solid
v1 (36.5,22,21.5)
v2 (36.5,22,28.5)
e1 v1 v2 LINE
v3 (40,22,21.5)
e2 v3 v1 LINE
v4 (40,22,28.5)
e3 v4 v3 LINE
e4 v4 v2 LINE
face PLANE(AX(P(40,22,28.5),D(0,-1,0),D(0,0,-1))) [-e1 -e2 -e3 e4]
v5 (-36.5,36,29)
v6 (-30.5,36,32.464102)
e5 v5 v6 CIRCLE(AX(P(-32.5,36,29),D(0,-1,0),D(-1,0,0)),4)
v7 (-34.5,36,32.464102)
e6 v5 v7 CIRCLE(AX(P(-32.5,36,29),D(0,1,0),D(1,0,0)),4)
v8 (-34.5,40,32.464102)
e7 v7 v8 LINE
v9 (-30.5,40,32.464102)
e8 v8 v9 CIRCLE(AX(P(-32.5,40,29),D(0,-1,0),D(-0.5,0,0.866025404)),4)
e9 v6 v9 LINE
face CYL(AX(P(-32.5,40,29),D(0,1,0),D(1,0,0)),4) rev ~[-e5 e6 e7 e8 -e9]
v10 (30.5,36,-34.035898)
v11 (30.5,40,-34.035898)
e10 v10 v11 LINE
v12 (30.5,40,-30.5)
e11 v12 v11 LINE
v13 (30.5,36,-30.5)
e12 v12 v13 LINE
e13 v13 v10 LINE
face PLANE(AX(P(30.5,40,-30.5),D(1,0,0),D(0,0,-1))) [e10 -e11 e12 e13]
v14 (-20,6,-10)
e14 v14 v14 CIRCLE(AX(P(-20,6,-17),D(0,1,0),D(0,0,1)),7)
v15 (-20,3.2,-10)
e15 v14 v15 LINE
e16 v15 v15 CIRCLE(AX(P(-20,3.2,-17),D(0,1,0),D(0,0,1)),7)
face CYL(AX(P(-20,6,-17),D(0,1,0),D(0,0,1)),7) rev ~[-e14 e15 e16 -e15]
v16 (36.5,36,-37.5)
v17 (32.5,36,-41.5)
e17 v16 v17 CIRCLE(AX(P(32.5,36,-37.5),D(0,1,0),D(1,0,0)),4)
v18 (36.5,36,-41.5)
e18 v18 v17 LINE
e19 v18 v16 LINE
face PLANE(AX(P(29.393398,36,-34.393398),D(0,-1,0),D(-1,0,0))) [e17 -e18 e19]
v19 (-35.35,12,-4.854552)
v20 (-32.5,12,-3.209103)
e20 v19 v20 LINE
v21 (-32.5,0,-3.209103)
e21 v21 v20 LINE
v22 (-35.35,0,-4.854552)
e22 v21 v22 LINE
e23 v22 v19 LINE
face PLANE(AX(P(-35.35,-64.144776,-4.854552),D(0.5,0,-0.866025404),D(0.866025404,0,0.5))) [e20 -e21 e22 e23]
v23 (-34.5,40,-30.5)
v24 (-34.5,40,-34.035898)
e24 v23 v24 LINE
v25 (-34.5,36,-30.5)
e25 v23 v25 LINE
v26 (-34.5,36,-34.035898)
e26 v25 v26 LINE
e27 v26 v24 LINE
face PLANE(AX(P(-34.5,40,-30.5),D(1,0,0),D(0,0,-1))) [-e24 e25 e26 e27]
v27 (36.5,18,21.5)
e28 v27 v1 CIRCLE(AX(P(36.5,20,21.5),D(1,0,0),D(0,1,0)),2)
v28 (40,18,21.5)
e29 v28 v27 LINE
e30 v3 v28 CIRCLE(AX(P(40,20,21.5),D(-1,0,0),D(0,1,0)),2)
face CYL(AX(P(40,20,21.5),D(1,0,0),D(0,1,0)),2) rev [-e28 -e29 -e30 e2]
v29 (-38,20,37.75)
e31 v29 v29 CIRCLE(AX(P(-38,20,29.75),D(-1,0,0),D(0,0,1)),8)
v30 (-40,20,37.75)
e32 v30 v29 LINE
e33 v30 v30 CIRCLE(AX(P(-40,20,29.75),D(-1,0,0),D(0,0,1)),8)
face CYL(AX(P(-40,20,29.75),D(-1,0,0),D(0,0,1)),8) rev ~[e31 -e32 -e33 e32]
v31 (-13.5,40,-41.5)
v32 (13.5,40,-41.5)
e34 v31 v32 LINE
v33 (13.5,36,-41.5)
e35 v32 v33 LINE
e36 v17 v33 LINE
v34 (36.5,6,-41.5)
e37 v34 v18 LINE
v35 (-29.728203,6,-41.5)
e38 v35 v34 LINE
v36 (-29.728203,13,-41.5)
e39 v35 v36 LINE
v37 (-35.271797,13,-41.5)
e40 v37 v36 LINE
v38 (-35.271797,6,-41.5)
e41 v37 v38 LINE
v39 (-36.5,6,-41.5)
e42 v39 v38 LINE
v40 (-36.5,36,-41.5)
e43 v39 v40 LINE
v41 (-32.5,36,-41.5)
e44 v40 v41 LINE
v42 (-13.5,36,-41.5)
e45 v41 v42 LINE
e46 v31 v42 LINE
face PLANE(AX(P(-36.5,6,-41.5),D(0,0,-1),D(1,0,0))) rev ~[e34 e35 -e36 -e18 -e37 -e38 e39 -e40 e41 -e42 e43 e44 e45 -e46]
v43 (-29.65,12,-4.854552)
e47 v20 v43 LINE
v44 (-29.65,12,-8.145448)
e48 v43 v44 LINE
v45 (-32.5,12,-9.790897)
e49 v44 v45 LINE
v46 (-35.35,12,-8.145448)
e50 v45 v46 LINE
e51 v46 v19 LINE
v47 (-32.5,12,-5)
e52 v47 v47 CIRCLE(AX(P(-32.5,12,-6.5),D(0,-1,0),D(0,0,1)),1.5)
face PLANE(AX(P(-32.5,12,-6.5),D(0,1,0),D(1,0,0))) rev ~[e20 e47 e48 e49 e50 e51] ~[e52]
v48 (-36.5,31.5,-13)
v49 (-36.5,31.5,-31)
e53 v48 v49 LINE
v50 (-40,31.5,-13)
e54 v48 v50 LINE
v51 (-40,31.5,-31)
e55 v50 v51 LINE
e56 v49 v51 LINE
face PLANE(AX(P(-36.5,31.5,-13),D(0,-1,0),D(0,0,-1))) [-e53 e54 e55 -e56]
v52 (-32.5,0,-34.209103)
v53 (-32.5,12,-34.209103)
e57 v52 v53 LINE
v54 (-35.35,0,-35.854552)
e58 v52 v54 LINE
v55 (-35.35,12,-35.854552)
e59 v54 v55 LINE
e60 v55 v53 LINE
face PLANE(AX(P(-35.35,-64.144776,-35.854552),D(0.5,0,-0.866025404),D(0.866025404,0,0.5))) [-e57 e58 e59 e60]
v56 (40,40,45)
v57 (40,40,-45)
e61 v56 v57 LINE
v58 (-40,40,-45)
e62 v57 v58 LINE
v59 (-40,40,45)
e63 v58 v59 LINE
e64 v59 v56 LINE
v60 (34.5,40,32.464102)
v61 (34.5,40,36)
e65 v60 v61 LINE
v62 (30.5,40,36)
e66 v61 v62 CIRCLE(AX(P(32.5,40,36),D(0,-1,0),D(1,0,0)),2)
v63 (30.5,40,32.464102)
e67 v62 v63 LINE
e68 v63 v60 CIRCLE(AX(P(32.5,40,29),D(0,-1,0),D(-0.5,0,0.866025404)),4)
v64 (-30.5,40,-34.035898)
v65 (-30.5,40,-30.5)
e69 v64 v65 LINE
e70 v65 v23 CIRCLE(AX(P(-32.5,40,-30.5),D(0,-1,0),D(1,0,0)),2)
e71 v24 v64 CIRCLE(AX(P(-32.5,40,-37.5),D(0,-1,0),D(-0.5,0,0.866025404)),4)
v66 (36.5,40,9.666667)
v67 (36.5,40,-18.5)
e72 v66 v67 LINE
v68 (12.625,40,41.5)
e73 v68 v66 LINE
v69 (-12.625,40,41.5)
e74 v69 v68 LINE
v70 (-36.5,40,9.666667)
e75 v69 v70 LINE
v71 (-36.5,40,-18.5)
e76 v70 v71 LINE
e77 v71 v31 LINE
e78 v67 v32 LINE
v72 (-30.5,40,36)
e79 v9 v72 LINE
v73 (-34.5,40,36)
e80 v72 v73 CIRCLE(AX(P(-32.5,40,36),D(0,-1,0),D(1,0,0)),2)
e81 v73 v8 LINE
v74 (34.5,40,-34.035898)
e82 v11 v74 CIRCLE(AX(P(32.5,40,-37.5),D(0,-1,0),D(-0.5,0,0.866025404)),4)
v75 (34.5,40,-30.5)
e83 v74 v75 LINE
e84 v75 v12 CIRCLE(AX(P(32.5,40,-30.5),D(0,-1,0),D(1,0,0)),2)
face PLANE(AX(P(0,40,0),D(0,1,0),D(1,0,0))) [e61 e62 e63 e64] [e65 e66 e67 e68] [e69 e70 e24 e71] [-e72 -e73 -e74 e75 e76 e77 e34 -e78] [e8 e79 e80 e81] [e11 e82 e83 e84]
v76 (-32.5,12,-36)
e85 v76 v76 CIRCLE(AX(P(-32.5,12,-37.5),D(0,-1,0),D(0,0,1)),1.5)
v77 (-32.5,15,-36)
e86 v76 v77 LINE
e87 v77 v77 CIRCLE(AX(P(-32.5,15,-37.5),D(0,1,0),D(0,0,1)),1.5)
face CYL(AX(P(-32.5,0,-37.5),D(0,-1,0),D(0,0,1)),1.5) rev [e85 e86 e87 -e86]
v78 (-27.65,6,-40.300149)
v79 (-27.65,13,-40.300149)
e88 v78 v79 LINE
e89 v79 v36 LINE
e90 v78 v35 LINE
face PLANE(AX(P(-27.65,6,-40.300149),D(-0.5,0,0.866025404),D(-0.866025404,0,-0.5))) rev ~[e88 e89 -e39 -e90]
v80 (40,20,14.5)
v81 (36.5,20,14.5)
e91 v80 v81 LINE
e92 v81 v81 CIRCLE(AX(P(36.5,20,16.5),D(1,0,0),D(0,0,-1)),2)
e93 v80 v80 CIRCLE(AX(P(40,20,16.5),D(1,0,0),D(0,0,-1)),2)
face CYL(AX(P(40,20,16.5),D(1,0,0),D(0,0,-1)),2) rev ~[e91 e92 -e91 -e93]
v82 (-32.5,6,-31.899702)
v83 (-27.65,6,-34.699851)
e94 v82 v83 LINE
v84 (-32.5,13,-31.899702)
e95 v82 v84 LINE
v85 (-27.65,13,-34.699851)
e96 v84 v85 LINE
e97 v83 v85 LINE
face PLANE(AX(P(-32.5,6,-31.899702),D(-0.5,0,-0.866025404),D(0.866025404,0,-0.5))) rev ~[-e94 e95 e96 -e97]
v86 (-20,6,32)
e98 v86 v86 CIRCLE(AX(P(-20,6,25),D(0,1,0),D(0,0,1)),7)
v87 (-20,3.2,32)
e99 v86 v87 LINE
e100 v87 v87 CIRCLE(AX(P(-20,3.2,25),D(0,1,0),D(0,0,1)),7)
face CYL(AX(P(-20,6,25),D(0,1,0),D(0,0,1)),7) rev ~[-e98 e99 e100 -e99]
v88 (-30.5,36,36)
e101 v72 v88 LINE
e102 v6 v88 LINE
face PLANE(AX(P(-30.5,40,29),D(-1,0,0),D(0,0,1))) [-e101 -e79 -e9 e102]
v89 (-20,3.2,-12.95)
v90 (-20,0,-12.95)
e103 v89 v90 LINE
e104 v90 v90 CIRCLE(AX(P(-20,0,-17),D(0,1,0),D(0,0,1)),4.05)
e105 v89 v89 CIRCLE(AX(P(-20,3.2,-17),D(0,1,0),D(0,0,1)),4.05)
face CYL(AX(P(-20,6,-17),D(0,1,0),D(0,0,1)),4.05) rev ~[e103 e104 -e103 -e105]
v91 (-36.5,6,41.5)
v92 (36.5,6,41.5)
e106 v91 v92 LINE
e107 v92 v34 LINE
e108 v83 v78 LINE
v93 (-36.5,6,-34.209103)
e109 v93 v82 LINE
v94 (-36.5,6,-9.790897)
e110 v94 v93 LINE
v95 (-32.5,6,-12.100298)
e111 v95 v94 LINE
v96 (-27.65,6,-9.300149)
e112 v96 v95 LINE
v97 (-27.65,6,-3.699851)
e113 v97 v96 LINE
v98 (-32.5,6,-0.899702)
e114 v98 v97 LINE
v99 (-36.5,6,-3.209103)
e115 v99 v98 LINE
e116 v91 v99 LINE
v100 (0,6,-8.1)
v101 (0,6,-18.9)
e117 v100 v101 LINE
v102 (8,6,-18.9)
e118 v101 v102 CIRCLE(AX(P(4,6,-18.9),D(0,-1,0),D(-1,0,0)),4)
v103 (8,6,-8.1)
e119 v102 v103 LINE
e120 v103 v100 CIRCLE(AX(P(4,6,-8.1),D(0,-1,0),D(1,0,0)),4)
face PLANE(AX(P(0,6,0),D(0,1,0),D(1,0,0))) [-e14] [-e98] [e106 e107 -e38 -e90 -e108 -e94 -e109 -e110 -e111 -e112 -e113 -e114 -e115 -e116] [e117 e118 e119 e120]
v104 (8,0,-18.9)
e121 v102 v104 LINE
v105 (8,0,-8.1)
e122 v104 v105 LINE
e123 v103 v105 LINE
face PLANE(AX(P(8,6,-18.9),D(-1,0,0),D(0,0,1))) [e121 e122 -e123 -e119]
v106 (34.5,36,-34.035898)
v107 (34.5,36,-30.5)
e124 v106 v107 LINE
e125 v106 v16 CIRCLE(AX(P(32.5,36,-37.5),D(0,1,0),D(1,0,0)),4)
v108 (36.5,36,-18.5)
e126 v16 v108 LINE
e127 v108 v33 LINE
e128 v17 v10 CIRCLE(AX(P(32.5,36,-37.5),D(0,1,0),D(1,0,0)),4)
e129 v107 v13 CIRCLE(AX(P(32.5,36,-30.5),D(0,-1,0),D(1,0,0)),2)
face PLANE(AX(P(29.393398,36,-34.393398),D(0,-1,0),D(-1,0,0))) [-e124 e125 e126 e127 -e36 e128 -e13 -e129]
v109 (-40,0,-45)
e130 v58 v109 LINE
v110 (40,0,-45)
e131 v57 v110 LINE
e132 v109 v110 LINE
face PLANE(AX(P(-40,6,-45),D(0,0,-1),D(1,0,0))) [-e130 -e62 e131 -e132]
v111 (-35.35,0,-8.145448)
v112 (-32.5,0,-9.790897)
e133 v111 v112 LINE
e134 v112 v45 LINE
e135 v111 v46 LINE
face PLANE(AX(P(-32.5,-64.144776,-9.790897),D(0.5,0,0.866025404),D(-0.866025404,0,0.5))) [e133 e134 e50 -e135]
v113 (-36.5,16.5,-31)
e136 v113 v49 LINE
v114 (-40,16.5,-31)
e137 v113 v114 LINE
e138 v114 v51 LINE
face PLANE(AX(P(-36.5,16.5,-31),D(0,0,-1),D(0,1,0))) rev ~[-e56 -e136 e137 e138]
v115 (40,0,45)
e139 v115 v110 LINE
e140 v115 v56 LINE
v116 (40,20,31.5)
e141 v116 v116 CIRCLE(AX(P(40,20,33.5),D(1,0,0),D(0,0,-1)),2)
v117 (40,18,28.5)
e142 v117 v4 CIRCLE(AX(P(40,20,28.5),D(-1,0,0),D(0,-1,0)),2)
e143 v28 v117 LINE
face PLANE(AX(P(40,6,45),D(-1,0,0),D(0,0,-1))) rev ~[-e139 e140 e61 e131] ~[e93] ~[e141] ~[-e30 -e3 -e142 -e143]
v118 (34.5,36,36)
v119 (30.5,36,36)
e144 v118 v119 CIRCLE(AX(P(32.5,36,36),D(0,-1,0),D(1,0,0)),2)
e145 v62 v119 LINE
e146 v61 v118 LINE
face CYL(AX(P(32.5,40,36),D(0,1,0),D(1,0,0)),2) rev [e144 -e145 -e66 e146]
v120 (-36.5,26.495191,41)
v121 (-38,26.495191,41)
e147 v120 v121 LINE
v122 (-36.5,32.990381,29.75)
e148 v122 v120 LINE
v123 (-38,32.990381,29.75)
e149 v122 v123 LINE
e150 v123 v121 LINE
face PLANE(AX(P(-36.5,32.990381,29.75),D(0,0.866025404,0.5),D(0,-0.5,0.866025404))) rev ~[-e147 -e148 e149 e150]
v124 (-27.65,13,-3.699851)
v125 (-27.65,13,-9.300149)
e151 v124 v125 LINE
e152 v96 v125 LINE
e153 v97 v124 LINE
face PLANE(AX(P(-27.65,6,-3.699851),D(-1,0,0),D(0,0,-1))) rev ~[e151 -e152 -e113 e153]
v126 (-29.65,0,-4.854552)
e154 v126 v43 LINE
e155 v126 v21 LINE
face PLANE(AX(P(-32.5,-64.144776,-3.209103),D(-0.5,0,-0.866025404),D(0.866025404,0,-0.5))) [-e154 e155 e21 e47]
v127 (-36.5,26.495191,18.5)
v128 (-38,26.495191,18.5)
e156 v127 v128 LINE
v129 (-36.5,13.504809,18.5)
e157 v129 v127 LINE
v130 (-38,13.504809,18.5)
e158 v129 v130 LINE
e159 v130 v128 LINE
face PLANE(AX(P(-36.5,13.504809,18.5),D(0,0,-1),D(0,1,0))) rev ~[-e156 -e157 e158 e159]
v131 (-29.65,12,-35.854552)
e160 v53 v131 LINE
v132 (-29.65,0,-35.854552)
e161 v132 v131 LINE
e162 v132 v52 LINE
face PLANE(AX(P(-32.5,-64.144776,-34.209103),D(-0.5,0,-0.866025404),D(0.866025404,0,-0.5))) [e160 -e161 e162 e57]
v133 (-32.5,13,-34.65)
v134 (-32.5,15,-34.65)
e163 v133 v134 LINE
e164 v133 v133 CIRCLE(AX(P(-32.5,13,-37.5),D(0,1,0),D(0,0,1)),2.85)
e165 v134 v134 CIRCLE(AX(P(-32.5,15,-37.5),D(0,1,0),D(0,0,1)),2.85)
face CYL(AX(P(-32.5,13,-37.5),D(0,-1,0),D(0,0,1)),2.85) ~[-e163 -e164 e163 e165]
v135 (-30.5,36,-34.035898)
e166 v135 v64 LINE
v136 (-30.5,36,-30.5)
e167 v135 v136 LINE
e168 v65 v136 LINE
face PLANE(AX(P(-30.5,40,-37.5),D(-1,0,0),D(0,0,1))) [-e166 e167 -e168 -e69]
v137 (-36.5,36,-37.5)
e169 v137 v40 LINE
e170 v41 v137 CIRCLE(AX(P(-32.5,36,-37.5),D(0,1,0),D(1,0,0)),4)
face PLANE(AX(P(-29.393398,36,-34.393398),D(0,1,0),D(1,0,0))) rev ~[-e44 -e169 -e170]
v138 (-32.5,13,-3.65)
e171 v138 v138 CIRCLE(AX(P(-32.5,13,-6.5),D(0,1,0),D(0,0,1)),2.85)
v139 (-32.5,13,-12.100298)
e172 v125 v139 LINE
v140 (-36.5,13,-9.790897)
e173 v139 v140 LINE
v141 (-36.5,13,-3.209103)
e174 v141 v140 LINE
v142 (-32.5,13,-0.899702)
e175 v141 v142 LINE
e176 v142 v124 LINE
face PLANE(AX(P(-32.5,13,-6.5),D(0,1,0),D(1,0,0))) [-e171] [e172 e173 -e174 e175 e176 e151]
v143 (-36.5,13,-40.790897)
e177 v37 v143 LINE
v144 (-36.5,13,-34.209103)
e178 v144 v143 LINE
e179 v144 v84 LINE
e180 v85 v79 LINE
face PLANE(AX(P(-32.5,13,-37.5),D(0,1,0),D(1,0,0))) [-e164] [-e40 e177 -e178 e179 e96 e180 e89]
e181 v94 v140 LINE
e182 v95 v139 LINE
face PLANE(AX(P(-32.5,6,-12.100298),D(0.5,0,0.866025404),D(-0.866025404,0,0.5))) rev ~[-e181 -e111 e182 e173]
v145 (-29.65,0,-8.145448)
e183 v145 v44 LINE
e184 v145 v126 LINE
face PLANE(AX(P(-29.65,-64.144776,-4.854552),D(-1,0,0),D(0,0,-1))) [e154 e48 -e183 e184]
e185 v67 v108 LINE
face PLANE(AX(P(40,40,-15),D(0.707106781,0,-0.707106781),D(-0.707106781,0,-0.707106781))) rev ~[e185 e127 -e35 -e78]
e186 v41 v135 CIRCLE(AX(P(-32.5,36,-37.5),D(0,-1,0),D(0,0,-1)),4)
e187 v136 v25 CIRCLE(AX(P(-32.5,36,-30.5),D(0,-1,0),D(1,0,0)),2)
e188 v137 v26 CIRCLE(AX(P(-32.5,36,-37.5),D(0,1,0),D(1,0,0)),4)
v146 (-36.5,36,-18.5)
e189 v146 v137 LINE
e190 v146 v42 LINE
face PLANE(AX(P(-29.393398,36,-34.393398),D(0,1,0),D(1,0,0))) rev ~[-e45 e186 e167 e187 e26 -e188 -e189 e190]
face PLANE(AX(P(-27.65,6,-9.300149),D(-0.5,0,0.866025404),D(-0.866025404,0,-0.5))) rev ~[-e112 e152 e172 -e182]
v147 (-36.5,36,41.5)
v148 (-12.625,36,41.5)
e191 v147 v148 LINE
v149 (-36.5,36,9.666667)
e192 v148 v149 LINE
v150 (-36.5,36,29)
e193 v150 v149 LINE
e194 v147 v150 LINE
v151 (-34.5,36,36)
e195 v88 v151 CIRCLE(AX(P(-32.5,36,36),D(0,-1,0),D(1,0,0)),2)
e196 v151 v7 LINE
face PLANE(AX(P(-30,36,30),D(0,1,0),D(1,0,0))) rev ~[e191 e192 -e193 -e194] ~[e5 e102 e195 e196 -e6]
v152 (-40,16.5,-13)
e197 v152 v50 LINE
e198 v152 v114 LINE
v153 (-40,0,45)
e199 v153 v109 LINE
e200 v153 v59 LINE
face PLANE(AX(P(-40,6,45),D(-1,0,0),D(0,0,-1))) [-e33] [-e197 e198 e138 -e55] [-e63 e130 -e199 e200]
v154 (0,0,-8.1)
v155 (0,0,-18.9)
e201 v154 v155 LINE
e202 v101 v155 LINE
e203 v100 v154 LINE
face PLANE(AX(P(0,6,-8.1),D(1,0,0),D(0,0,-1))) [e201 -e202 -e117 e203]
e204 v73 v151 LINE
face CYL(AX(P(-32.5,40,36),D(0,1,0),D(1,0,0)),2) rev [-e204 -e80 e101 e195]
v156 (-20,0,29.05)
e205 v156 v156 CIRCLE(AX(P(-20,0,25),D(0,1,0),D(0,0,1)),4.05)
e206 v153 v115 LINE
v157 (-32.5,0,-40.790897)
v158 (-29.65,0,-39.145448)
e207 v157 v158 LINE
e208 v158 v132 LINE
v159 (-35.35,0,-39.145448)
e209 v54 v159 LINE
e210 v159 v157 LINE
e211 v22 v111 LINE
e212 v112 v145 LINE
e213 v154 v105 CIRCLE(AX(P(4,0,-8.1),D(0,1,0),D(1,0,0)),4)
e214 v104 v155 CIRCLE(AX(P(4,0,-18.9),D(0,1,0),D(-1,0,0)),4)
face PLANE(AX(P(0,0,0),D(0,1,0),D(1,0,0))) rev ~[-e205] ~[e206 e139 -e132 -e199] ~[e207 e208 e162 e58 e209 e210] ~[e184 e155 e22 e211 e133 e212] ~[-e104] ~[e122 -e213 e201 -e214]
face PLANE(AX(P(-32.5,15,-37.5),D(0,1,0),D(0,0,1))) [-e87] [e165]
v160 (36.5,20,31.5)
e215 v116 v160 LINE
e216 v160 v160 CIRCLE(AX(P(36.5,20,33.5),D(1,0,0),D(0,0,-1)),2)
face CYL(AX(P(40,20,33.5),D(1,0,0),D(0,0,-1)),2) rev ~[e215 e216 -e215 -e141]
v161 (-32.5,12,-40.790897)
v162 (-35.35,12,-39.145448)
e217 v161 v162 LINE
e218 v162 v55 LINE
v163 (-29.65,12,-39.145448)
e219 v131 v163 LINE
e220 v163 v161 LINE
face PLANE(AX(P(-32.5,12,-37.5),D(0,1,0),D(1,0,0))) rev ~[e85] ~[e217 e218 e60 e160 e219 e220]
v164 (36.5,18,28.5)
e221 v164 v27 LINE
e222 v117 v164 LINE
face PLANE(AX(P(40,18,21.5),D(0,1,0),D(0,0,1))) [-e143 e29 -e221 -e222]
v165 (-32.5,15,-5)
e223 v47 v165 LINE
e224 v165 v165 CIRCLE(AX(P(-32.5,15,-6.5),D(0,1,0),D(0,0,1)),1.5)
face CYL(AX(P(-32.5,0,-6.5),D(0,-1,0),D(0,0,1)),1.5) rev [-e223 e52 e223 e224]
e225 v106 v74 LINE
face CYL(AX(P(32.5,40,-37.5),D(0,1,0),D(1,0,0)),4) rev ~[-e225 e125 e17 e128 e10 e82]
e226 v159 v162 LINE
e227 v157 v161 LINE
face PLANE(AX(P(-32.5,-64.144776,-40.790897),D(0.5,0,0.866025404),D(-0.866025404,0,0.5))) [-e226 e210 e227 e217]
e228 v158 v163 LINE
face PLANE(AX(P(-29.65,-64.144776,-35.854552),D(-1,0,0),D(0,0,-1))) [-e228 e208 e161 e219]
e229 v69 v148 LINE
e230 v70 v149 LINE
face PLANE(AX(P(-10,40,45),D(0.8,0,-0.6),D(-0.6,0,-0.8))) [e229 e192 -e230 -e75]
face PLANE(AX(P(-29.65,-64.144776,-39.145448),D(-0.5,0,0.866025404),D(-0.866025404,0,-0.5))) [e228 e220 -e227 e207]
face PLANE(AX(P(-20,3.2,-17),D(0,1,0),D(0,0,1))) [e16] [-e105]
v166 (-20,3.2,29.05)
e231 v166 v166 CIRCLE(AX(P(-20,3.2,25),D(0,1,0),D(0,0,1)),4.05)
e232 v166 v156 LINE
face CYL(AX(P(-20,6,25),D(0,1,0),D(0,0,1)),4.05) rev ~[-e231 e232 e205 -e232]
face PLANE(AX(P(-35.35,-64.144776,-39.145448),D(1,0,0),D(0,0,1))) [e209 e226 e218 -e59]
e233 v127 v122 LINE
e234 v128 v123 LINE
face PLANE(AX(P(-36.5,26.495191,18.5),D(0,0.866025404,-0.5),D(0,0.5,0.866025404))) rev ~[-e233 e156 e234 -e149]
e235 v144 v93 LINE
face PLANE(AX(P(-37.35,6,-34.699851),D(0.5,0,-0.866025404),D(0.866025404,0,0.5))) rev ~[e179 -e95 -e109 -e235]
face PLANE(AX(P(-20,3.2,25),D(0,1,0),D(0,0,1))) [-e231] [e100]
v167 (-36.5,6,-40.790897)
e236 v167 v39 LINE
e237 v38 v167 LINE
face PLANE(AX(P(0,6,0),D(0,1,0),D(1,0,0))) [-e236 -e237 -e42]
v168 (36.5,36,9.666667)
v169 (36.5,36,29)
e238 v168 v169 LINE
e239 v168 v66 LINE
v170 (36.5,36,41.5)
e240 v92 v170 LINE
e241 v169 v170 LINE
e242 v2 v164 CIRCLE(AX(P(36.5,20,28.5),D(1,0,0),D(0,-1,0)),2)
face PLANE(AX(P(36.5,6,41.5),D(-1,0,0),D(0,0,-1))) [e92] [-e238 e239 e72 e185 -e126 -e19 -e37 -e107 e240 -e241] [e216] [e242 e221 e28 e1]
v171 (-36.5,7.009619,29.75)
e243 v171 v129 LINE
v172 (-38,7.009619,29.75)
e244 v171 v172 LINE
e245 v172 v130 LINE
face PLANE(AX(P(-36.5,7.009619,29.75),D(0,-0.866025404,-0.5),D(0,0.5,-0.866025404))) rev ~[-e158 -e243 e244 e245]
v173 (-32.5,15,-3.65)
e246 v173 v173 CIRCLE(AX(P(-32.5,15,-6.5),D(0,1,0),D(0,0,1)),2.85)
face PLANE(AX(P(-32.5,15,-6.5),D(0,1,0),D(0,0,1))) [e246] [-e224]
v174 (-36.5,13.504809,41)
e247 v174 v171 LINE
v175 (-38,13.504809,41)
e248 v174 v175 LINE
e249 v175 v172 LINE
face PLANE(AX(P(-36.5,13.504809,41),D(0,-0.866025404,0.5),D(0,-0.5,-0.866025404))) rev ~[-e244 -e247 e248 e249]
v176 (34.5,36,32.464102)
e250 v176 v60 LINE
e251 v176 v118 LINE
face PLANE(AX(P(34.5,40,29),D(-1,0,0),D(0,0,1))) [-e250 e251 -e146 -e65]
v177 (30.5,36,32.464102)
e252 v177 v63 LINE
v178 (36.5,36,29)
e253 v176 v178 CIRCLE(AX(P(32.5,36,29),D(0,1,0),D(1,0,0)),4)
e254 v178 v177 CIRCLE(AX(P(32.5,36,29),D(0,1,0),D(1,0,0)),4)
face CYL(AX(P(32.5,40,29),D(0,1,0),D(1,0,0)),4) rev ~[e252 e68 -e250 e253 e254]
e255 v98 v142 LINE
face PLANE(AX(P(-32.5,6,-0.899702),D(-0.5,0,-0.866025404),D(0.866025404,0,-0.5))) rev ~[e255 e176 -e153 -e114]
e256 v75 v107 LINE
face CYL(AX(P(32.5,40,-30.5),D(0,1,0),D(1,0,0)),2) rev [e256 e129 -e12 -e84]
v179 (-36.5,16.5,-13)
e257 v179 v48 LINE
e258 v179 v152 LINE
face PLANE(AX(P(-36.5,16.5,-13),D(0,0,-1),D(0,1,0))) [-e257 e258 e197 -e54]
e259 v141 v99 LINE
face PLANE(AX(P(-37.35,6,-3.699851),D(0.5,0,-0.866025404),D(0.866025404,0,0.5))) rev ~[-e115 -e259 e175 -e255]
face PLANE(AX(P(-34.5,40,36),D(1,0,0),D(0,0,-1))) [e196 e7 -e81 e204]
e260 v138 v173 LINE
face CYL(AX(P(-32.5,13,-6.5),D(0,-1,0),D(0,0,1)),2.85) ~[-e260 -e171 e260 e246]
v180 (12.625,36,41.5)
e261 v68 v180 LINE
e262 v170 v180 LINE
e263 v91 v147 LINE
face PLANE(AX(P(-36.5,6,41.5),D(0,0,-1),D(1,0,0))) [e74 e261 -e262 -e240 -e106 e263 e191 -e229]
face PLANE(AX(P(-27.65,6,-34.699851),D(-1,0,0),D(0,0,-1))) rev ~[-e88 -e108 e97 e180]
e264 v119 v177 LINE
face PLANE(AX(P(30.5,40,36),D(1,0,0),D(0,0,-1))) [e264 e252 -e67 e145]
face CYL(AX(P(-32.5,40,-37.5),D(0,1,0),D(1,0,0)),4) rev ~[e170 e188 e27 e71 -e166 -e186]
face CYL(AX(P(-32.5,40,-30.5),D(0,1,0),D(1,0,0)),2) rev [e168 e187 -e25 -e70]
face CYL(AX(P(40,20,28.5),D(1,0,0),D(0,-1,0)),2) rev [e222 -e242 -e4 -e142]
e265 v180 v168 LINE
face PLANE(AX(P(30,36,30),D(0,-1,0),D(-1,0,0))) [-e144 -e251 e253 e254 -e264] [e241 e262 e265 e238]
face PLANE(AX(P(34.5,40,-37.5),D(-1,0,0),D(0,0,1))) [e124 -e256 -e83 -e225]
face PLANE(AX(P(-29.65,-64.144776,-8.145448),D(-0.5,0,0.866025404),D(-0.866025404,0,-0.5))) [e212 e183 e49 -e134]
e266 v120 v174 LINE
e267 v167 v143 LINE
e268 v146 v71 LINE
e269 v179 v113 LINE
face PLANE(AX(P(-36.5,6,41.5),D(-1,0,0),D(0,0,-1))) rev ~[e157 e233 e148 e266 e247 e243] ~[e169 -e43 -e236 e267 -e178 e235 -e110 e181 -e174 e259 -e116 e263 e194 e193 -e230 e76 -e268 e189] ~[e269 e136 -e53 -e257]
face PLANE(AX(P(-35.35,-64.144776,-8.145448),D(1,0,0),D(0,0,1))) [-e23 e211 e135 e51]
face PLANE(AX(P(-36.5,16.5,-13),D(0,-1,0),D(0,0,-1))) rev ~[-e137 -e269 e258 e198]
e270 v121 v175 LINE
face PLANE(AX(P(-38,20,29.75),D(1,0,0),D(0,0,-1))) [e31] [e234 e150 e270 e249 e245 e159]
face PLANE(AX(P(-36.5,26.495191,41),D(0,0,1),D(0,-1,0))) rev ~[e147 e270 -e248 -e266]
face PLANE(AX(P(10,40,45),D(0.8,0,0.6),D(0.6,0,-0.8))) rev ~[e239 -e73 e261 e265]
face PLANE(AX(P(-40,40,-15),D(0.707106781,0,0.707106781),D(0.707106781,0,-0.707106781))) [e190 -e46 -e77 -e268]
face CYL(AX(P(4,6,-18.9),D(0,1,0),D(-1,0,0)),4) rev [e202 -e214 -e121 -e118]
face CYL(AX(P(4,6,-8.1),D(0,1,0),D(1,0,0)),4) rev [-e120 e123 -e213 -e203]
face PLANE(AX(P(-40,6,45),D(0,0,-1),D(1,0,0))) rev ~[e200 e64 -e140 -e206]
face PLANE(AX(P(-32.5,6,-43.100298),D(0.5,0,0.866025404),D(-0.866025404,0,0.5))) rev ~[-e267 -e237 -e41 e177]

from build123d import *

# Parameters (mm, degrees)
SKETCH1_W               = 80
SKETCH1_H               = 90
BOSS_EXTRUDE1_DEPTH     = 6
SKETCH4_W               = 80
SKETCH4_H               = 90
SKETCH4_W_2             = 73
SKETCH4_H_2             = 83
BOSS_EXTRUDE2_DEPTH     = 34
SKETCH6_R               = 4.05
CUT_EXTRUDE1_DEPTH      = 40
SKETCH7_R               = 7
CUT_EXTRUDE2_DEPTH      = 2.8
BOSS_EXTRUDE3_DEPTH     = 7
SKETCH11_R              = 2.85
BOSS_EXTRUDE4_DEPTH     = 2
CUT_EXTRUDE3_DEPTH      = 9
CUT_EXTRUDE3_DEPTH_BACK = 6
SKETCH5_R               = 1.5
CUT_EXTRUDE4_DEPTH      = 6
CUT_EXTRUDE4_DEPTH_BACK = 70.144775652
SKETCH12_W              = 18
SKETCH12_H              = 15
CUT_EXTRUDE6_DEPTH      = 3.5
SKETCH17_R              = 8
CUT_EXTRUDE8_DEPTH      = 2
CUT_EXTRUDE9_DEPTH      = 1.5
CUT_EXTRUDE14_DEPTH     = 10
SKETCH30_R              = 2
CUT_EXTRUDE15_DEPTH     = 10
BOSS_EXTRUDE6_DEPTH     = 4
CUT_EXTRUDE12_DEPTH     = 4
SKETCH26_R              = 4
CUT_EXTRUDE13_DEPTH     = 4


with BuildPart() as part:
    # Sketch1 → Boss-Extrude1 (new body)
    with BuildSketch(Plane(origin=(0, 0, 0), x_dir=(1, 0, 0), z_dir=(0, 1, 0))):
        Rectangle(SKETCH1_W, SKETCH1_H)
    extrude(amount=BOSS_EXTRUDE1_DEPTH)

    # Sketch4 → Boss-Extrude2 (add)
    with BuildSketch(Plane(origin=(0, 6, 0), x_dir=(1, 0, 0), z_dir=(0, 1, 0))):
        Rectangle(SKETCH4_W, SKETCH4_H)
        Rectangle(SKETCH4_W_2, SKETCH4_H_2, mode=Mode.SUBTRACT)
    extrude(amount=BOSS_EXTRUDE2_DEPTH)

    # Sketch6 → Cut-Extrude1 (cut)
    with BuildSketch(Plane(origin=(0, 6, 0), x_dir=(1, 0, 0), z_dir=(0, 1, 0))):
        with Locations(Location((-20, 17, 0), (0, 0, 270))):
            Circle(SKETCH6_R)
        with Locations(Location((-20, -25, 0), (0, 0, 270))):
            Circle(SKETCH6_R)
    extrude(amount=-CUT_EXTRUDE1_DEPTH, mode=Mode.SUBTRACT)

    # Sketch7 → Cut-Extrude2 (cut)
    with BuildSketch(Plane(origin=(0, 6, 0), x_dir=(1, 0, 0), z_dir=(0, 1, 0))):
        with Locations(Location((-20, 17, 0), (0, 0, 270))):
            Circle(SKETCH7_R)
        with Locations(Location((-20, -25, 0), (0, 0, 270))):
            Circle(SKETCH7_R)
    extrude(amount=-CUT_EXTRUDE2_DEPTH, mode=Mode.SUBTRACT)

    # Sketch10 → Boss-Extrude3 (add)
    with BuildSketch(Plane(origin=(0, 6, 0), x_dir=(1, 0, 0), z_dir=(0, 1, 0))):
        Polygon((-32.5, 43.100297611), (-37.35, 40.300148806), (-37.35, 34.699851194), (-32.5, 31.899702389), (-27.65, 34.699851194), (-27.65, 40.300148806), align=None)
        Polygon((-27.65, 9.300148806), (-32.5, 12.100297611), (-37.35, 9.300148806), (-37.35, 3.699851194), (-32.5, 0.899702389), (-27.65, 3.699851194), align=None)
    extrude(amount=BOSS_EXTRUDE3_DEPTH)

    # Sketch11 → Boss-Extrude4 (add)
    with BuildSketch(Plane(origin=(0, 13, 0), x_dir=(1, 0, 0), z_dir=(0, 1, 0))):
        with Locations(Location((-32.5, 37.5, 0), (0, 0, 270))):
            Circle(SKETCH11_R)
        with Locations(Location((-32.5, 6.5, 0), (0, 0, 270))):
            Circle(SKETCH11_R)
    extrude(amount=BOSS_EXTRUDE4_DEPTH)

    # Sketch5 → Cut-Extrude3 (cut, two sides: drawn at the far end of the back side and taken through both)
    with BuildSketch(Plane(origin=(0, 6, 0), x_dir=(1, 0, 0), z_dir=(0, 1, 0)).offset(-CUT_EXTRUDE3_DEPTH_BACK)):
        with Locations(Location((-32.5, 37.5, 0), (0, 0, 270))):
            Circle(SKETCH5_R)
        with Locations(Location((-32.5, 6.5, 0), (0, 0, 270))):
            Circle(SKETCH5_R)
    extrude(amount=CUT_EXTRUDE3_DEPTH + CUT_EXTRUDE3_DEPTH_BACK, mode=Mode.SUBTRACT)

    # Sketch8 → Cut-Extrude4 (cut, two sides: drawn at the far end of the back side and taken through both)
    with BuildSketch(Plane(origin=(0, 6, 0), x_dir=(1, 0, 0), z_dir=(0, 1, 0)).offset(-CUT_EXTRUDE4_DEPTH_BACK)):
        Polygon((-29.65, 39.145448267), (-32.5, 40.790896534), (-35.35, 39.145448267), (-35.35, 35.854551733), (-32.5, 34.209103466), (-29.65, 35.854551733), align=None)
        Polygon((-29.65, 8.145448267), (-32.5, 9.790896534), (-35.35, 8.145448267), (-35.35, 4.854551733), (-32.5, 3.209103466), (-29.65, 4.854551733), align=None)
    extrude(amount=CUT_EXTRUDE4_DEPTH + CUT_EXTRUDE4_DEPTH_BACK, mode=Mode.SUBTRACT)

    # Sketch12 → Cut-Extrude6 (cut)
    with BuildSketch(Plane(origin=(-36.5, 0, 0), x_dir=(0, 0, -1), z_dir=(1, 0, 0))):
        with Locations((22, 24)):
            Rectangle(SKETCH12_W, SKETCH12_H)
    extrude(amount=-CUT_EXTRUDE6_DEPTH, mode=Mode.SUBTRACT)

    # Sketch17 → Cut-Extrude8 (cut)
    with BuildSketch(Plane.ZY.offset(40)):
        with Locations((29.75, 20)):
            Circle(SKETCH17_R)
    extrude(amount=-CUT_EXTRUDE8_DEPTH, mode=Mode.SUBTRACT)

    # Sketch15 → Cut-Extrude9 (cut)
    with BuildSketch(Plane(origin=(-36.5, 0, 0), x_dir=(0, 0, -1), z_dir=(1, 0, 0))):
        Polygon((-29.75, 32.990381057), (-41, 26.495190528), (-41, 13.504809472), (-29.75, 7.009618943), (-18.5, 13.504809472), (-18.5, 26.495190528), align=None)
    extrude(amount=-CUT_EXTRUDE9_DEPTH, mode=Mode.SUBTRACT)

    # Sketch29 → Cut-Extrude14 (cut)
    with BuildSketch(Plane(origin=(0, 6, 0), x_dir=(1, 0, 0), z_dir=(0, 1, 0))):
        with BuildLine():
            Line((8, 18.9), (8, 8.1))
            ThreePointArc((8, 8.1), (4, 4.1), (0, 8.1))
            Line((0, 8.1), (0, 18.9))
            ThreePointArc((0, 18.9), (4, 22.9), (8, 18.9))
        make_face()
    extrude(amount=-CUT_EXTRUDE14_DEPTH, mode=Mode.SUBTRACT)

    # Sketch30 → Cut-Extrude15 (cut)
    with BuildSketch(Plane(origin=(40, 0, 0), x_dir=(0, 0, -1), z_dir=(1, 0, 0))):
        with Locations((-33.5, 20)):
            Circle(SKETCH30_R)
        with Locations((-16.5, 20)):
            Circle(SKETCH30_R)
        with BuildLine():
            Line((-28.5, 22), (-21.5, 22))
            ThreePointArc((-21.5, 22), (-19.5, 20), (-21.5, 18))
            Line((-21.5, 18), (-28.5, 18))
            ThreePointArc((-28.5, 18), (-30.5, 20), (-28.5, 22))
        make_face()
    extrude(amount=-CUT_EXTRUDE15_DEPTH, mode=Mode.SUBTRACT)

    # Sketch23 → Boss-Extrude6 (add)
    with BuildSketch(Plane(origin=(0, 40, 0), x_dir=(1, 0, 0), z_dir=(0, 1, 0))):
        Polygon((-10, -45), (-40, -5), (-40, -45), align=None)
        Polygon((40, -45), (10, -45), (40, -5), align=None)
        Polygon((-40, 45), (-40, 15), (-10, 45), align=None)
        Polygon((10, 45), (40, 45), (40, 15), align=None)
    extrude(amount=-BOSS_EXTRUDE6_DEPTH)

    # Sketch27 → Cut-Extrude12 (cut)
    with BuildSketch(Plane(origin=(0, 40, 0), x_dir=(1, 0, 0), z_dir=(0, 1, 0))):
        with BuildLine():
            Line((-30.5, 37.5), (-30.5, 30.5))
            ThreePointArc((-30.5, 30.5), (-32.5, 28.5), (-34.5, 30.5))
            Line((-34.5, 30.5), (-34.5, 37.5))
            ThreePointArc((-34.5, 37.5), (-32.5, 39.5), (-30.5, 37.5))
        make_face()
        with BuildLine():
            Line((34.5, 37.5), (34.5, 30.5))
            ThreePointArc((34.5, 30.5), (32.5, 28.5), (30.5, 30.5))
            Line((30.5, 30.5), (30.5, 37.5))
            ThreePointArc((30.5, 37.5), (32.5, 39.5), (34.5, 37.5))
        make_face()
        with BuildLine():
            Line((34.5, -29), (34.5, -36))
            ThreePointArc((34.5, -36), (32.5, -38), (30.5, -36))
            Line((30.5, -36), (30.5, -29))
            ThreePointArc((30.5, -29), (32.5, -27), (34.5, -29))
        make_face()
        with BuildLine():
            Line((-30.5, -29), (-30.5, -36))
            ThreePointArc((-30.5, -36), (-32.5, -38), (-34.5, -36))
            Line((-34.5, -36), (-34.5, -29))
            ThreePointArc((-34.5, -29), (-32.5, -27), (-30.5, -29))
        make_face()
    extrude(amount=-CUT_EXTRUDE12_DEPTH, mode=Mode.SUBTRACT)

    # Sketch26 → Cut-Extrude13 (cut)
    with BuildSketch(Plane(origin=(0, 40, 0), x_dir=(1, 0, 0), z_dir=(0, 1, 0))):
        with Locations((-32.5, 37.5)):
            Circle(SKETCH26_R)
        with Locations((32.5, 37.5)):
            Circle(SKETCH26_R)
        with Locations((32.5, -29)):
            Circle(SKETCH26_R)
        with Locations((-32.5, -29)):
            Circle(SKETCH26_R)
    extrude(amount=-CUT_EXTRUDE13_DEPTH, mode=Mode.SUBTRACT)


solid = part.part
